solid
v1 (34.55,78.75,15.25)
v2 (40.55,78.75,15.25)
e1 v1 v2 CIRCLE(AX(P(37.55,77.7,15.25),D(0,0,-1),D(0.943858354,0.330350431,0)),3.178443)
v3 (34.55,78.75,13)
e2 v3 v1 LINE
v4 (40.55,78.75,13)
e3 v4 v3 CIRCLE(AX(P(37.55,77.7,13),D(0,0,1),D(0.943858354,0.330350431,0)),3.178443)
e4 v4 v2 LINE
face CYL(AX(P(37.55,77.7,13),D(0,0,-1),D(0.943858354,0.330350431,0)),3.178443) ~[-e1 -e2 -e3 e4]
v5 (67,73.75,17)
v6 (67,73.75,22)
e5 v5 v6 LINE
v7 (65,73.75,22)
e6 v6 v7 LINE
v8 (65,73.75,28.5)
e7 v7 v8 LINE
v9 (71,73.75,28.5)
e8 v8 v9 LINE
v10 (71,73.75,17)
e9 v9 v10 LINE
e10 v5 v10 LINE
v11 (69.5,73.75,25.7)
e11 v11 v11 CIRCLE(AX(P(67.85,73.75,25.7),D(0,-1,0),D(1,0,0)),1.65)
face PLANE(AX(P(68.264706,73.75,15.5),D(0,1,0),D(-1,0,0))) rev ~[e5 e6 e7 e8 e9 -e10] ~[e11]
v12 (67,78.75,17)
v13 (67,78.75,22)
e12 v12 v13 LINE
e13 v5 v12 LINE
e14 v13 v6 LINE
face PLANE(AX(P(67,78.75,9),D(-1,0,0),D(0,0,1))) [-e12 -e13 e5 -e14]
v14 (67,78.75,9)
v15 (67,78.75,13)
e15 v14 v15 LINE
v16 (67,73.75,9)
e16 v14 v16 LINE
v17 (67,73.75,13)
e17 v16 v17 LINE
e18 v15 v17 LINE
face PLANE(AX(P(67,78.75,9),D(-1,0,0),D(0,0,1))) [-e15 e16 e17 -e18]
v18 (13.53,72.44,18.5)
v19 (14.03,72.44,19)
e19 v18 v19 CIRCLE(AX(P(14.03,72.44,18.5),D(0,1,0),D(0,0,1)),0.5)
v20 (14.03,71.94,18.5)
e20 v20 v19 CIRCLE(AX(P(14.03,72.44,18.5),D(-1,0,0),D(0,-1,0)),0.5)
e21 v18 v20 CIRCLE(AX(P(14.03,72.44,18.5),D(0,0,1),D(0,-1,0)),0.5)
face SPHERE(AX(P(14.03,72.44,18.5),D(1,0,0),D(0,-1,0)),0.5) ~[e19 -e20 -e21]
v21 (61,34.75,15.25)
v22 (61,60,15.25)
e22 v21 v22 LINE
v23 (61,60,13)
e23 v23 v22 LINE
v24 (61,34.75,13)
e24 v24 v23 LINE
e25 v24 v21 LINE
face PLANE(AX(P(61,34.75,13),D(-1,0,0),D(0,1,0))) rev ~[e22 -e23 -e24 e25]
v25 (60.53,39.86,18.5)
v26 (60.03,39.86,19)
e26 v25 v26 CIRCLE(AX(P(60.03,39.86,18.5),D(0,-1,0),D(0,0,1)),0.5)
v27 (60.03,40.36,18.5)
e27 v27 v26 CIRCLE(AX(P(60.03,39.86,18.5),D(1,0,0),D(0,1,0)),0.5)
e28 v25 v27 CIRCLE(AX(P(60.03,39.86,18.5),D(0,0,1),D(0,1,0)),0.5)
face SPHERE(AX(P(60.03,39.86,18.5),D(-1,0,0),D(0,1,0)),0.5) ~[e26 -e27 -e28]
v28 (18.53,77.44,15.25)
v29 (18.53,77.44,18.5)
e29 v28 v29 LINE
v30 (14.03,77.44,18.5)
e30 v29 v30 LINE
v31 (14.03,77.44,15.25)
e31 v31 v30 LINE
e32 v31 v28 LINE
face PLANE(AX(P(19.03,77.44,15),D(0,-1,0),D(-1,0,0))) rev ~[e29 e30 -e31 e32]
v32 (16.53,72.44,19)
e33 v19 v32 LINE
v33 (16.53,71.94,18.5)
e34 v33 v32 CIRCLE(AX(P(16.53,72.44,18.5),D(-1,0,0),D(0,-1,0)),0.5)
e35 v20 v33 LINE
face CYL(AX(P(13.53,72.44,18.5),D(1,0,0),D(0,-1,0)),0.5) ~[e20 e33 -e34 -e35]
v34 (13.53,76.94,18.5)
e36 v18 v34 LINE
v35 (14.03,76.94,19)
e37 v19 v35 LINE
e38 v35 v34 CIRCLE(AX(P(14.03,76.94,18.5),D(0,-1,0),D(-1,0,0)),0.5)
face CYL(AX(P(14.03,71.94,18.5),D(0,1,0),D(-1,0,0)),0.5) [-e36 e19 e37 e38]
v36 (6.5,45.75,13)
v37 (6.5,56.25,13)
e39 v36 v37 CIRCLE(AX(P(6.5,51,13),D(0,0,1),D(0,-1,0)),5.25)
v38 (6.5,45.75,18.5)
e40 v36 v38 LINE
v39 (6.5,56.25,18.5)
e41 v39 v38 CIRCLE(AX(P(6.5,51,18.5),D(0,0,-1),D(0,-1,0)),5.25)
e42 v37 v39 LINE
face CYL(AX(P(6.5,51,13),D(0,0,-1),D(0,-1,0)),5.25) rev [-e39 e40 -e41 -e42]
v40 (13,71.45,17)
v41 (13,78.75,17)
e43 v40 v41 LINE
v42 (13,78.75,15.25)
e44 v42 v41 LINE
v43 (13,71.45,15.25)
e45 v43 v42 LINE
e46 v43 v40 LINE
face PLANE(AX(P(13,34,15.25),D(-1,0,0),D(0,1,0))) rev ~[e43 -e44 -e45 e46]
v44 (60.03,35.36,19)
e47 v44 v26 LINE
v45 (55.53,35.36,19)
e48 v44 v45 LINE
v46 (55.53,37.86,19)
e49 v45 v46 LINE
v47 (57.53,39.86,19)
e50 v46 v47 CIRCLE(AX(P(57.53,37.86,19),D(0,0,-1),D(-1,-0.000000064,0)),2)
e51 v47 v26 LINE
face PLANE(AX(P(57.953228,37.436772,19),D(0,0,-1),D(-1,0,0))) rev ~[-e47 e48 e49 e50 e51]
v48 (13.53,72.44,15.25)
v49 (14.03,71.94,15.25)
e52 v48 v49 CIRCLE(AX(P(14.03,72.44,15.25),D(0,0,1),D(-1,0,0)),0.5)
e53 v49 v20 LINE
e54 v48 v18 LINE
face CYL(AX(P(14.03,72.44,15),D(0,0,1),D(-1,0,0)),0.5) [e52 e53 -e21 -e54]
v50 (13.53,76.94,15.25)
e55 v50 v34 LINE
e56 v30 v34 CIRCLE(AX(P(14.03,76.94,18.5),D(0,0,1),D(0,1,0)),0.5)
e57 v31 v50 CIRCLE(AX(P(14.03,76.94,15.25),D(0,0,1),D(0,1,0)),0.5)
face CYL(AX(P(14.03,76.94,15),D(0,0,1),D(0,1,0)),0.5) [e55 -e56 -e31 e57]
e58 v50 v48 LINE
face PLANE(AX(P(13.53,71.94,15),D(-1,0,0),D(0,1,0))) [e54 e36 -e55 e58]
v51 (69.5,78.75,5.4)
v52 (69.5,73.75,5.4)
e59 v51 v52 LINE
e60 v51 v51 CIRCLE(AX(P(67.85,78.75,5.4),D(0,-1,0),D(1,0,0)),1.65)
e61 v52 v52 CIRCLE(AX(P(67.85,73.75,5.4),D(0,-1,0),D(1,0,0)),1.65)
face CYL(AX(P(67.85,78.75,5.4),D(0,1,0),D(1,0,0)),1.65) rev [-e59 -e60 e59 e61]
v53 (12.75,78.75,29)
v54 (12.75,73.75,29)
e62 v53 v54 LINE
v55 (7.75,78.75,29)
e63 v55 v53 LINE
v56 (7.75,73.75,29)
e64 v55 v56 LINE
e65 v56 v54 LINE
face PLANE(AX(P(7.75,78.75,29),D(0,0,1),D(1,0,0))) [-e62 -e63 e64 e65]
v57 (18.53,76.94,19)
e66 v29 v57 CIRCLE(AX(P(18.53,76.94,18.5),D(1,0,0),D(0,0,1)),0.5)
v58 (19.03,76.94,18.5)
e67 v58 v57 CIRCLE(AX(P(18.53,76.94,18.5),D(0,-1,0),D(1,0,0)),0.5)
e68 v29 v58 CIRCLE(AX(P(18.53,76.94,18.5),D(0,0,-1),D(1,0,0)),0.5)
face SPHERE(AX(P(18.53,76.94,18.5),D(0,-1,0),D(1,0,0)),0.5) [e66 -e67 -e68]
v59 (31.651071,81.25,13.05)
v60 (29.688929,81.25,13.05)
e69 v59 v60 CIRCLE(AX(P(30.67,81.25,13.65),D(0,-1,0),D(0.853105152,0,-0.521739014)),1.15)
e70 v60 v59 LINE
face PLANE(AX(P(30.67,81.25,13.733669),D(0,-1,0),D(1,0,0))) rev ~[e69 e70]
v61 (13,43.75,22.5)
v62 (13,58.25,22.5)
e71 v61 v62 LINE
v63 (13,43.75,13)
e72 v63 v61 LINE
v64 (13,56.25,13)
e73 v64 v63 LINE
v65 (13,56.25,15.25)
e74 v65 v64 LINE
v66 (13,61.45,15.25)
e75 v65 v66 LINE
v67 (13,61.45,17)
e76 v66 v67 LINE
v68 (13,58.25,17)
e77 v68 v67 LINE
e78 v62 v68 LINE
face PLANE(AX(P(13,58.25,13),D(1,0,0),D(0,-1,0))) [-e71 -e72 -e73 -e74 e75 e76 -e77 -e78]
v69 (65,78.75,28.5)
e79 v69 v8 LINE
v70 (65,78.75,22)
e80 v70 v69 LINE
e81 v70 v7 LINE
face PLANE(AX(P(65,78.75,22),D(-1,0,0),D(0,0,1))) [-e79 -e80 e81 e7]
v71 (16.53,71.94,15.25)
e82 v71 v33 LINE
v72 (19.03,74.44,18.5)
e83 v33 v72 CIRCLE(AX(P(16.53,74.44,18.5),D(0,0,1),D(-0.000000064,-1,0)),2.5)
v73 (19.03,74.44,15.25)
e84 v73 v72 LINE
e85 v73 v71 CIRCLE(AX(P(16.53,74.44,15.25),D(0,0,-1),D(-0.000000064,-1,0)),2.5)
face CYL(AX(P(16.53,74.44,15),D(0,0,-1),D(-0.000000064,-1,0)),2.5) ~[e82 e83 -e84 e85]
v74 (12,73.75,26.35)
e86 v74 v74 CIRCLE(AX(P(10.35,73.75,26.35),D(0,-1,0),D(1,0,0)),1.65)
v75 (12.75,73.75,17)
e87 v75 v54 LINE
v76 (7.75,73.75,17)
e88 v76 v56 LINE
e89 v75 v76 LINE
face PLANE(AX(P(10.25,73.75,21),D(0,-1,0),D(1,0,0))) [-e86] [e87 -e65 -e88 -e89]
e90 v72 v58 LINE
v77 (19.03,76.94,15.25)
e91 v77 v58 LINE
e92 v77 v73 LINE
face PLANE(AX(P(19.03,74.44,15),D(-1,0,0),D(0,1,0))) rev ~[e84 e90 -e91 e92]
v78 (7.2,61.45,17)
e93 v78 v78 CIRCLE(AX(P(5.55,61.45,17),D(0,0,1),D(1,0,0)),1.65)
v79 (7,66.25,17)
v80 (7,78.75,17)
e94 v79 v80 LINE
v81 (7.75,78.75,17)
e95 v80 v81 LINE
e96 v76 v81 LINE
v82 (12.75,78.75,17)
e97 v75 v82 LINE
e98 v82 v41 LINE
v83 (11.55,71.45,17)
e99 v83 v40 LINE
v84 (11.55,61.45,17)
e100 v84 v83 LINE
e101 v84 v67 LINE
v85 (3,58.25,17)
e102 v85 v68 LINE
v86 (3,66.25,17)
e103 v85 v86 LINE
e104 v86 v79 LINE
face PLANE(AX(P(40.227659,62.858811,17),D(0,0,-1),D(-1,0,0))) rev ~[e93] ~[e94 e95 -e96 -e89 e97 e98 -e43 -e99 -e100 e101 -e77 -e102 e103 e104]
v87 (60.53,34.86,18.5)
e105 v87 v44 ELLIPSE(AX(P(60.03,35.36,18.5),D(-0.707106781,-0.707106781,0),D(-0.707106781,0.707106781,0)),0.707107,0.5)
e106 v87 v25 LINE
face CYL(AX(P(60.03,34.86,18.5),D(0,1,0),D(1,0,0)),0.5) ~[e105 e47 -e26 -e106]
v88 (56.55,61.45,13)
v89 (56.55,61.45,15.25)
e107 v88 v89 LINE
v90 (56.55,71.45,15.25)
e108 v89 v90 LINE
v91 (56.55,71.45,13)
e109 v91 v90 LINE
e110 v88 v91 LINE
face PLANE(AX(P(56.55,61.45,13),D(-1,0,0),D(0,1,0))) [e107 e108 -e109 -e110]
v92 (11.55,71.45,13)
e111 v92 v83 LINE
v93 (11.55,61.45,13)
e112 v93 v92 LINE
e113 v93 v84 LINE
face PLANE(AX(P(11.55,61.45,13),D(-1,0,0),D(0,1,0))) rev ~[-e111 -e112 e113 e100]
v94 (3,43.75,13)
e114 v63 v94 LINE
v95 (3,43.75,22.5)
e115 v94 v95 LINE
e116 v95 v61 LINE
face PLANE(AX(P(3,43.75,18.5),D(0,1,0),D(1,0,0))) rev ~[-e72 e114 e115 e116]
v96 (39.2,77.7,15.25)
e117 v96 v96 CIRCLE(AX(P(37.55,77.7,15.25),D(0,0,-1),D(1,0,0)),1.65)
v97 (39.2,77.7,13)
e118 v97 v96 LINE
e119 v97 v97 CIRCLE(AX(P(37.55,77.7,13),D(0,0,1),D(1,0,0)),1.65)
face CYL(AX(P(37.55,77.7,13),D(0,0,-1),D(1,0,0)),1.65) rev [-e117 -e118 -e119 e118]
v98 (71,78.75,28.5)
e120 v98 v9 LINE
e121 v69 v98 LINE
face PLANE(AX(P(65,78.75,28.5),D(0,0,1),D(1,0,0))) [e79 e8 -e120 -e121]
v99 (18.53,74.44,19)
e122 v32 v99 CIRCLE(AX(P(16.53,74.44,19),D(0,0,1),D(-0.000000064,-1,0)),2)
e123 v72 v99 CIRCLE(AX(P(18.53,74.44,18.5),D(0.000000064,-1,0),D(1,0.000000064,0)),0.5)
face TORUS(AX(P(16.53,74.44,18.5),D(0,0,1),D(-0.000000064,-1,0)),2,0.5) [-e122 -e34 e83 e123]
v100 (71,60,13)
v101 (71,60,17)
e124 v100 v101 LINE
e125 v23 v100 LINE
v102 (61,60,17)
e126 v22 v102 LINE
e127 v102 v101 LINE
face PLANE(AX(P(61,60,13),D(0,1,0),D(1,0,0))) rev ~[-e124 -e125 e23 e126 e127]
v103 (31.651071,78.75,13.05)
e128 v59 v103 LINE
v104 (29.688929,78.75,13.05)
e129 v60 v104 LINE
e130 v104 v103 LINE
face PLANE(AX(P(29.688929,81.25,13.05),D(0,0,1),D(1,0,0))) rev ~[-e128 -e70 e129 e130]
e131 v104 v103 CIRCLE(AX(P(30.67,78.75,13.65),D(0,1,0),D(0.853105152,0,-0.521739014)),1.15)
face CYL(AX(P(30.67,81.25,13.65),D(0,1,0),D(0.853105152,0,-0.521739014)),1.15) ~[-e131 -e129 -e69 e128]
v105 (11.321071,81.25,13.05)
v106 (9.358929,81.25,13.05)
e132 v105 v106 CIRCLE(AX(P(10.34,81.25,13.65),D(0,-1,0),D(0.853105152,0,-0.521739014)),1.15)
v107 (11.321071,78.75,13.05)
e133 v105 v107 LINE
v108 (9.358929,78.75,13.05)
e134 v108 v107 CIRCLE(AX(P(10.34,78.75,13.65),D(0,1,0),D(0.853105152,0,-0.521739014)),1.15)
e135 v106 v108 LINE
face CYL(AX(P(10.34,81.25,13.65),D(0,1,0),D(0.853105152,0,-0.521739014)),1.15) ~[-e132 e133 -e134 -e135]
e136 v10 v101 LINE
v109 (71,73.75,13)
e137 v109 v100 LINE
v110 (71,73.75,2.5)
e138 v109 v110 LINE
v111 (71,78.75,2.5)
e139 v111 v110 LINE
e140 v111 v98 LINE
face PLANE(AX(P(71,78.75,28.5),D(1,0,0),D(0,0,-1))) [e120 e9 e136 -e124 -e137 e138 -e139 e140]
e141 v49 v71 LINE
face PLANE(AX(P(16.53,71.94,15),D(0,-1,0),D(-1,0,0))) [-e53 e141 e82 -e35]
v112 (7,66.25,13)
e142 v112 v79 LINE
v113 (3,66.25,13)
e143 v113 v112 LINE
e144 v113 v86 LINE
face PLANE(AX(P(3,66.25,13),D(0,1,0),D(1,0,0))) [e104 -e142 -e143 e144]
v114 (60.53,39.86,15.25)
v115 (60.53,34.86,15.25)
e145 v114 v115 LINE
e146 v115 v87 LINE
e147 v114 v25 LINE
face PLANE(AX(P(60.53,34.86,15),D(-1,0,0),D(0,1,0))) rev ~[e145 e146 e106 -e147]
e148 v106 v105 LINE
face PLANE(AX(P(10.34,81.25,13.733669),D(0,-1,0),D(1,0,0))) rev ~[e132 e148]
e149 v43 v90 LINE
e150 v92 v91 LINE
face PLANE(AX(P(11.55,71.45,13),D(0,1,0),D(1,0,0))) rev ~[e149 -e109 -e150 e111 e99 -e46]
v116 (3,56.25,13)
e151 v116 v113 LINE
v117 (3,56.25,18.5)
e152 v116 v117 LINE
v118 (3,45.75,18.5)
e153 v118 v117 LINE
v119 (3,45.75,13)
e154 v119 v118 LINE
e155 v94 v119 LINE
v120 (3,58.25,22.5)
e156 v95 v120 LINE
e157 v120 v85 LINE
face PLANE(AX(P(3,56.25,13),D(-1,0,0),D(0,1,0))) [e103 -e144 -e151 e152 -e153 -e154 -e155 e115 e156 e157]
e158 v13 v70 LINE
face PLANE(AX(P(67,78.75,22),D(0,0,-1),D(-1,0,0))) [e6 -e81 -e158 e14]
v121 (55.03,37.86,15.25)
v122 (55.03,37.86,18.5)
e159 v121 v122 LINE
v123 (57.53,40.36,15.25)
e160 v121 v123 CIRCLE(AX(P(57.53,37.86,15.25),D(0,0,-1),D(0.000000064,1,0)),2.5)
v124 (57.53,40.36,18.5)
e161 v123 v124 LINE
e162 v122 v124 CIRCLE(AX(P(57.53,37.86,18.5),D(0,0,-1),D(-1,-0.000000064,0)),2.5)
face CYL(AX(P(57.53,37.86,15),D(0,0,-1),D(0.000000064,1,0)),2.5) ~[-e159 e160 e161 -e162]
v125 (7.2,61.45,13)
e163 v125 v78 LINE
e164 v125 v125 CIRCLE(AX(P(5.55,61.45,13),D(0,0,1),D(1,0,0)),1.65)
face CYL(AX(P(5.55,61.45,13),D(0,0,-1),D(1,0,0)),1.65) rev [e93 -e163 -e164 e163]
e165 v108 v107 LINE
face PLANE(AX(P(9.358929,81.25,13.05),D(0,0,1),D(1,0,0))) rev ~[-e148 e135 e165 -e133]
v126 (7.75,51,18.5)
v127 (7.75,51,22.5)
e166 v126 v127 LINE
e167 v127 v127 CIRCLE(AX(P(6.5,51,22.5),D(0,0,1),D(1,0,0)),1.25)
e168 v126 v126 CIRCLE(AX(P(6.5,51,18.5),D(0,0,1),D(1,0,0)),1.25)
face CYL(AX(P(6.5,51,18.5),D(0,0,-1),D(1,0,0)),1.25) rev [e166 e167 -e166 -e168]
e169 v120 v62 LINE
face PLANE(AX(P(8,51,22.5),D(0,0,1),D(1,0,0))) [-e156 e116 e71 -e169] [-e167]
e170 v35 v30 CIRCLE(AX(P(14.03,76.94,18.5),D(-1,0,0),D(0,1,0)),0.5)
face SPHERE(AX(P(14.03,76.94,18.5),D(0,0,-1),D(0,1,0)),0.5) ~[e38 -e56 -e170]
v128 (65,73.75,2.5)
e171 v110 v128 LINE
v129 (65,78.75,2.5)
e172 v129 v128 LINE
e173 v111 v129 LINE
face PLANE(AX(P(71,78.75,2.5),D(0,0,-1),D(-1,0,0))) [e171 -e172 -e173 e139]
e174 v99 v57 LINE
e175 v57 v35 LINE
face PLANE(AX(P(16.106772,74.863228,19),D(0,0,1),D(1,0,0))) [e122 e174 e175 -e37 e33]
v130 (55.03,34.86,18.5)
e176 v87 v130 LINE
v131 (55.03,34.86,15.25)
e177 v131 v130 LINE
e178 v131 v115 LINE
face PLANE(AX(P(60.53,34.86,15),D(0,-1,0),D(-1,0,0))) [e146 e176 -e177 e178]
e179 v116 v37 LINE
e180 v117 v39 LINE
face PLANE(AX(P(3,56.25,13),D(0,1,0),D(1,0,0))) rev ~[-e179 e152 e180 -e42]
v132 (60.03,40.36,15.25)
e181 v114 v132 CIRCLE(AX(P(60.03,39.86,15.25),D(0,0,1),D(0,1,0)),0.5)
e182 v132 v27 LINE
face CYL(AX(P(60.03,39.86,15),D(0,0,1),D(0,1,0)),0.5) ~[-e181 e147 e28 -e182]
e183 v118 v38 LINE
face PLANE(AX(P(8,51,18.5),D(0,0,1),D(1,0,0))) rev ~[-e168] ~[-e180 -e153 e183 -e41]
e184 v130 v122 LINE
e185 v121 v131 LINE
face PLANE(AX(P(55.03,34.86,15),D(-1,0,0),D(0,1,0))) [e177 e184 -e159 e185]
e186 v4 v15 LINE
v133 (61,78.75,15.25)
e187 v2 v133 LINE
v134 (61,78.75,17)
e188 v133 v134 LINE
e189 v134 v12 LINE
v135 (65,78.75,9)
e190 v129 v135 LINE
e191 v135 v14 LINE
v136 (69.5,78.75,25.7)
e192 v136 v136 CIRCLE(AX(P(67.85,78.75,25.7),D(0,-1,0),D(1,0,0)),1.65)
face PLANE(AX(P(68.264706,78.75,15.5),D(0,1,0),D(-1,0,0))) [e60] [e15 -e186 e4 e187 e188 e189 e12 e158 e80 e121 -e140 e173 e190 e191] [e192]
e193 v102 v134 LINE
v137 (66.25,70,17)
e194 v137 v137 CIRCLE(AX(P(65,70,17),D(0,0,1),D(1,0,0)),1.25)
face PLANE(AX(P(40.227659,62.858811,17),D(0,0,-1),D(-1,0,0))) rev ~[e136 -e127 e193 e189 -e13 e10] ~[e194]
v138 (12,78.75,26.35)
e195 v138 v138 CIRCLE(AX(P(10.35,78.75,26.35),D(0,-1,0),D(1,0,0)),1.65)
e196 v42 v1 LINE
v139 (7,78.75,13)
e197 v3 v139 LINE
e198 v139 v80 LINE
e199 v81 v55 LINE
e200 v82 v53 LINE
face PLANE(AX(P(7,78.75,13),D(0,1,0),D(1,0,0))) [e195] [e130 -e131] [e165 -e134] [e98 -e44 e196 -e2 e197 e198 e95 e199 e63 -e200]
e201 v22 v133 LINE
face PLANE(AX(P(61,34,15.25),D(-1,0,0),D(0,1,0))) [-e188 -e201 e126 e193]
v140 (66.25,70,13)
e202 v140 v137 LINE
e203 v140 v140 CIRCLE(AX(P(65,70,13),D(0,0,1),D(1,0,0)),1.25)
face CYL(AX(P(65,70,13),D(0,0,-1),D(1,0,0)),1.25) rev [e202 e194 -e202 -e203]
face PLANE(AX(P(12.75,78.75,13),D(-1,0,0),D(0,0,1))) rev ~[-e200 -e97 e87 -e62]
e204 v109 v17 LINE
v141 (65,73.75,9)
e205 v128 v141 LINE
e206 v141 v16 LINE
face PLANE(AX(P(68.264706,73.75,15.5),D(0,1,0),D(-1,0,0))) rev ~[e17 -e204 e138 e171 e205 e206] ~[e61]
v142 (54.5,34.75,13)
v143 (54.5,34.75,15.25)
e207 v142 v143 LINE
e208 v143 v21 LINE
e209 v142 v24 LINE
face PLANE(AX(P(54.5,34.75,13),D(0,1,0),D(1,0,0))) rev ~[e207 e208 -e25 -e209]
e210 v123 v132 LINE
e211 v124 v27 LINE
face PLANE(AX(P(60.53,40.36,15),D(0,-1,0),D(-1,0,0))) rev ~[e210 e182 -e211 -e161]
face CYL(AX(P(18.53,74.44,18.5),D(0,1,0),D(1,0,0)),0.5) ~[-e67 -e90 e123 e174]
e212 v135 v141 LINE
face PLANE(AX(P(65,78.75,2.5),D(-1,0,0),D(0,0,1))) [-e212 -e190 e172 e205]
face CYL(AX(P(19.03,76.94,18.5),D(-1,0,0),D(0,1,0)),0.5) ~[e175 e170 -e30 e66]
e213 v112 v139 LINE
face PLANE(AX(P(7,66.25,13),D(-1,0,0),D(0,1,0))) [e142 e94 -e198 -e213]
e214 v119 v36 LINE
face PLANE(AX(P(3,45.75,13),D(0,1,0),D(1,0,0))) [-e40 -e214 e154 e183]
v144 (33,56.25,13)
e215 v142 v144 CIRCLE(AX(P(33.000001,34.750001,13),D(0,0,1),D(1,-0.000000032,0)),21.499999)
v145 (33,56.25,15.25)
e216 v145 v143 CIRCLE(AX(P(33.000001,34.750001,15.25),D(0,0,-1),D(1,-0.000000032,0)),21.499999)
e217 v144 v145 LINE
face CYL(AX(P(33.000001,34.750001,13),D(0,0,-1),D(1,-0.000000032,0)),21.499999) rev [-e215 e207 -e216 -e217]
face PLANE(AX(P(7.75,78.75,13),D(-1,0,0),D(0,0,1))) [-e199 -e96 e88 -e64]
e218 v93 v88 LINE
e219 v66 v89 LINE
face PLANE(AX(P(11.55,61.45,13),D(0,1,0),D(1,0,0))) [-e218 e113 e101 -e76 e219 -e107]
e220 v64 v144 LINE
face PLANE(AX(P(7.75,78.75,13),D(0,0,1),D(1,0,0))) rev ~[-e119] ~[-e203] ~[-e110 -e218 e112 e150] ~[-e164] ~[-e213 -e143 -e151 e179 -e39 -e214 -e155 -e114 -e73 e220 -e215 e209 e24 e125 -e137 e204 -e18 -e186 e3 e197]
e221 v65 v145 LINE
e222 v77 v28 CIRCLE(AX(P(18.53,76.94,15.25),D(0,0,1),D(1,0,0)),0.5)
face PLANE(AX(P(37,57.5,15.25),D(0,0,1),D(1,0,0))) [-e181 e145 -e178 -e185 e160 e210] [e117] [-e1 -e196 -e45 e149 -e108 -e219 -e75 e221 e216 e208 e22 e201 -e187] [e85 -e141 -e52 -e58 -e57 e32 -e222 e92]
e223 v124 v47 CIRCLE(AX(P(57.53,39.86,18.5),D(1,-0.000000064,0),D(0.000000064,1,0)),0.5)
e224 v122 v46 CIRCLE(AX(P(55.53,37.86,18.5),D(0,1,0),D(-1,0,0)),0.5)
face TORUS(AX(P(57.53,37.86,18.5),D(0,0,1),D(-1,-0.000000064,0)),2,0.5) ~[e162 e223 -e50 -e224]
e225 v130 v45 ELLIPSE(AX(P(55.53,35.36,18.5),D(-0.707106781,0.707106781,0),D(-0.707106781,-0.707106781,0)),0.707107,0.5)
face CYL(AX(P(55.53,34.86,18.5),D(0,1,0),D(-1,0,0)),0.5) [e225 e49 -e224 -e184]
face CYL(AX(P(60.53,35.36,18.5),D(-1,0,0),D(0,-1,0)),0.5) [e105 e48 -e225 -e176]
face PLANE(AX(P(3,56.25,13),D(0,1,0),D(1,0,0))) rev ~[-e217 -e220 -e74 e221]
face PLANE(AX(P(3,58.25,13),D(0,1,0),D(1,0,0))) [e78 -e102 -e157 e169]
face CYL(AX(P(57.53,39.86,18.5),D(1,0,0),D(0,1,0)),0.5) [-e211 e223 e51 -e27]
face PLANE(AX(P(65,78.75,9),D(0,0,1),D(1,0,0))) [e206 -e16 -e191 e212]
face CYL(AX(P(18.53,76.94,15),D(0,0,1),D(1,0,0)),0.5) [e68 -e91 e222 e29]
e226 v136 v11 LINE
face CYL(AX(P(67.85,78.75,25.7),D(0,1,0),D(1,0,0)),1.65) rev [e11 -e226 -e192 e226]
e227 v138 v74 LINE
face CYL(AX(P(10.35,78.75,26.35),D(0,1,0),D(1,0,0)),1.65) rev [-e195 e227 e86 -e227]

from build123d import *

# Parameters (mm, degrees)
SKETCH021_R      = 1.65
EXTRUDE021_DEPTH = 5
EXTRUDE001_DEPTH = 4
FILLET003_R      = 0.5
BOX005_W         = 48
BOX005_H         = 47
BOX005_DEPTH     = 10
EXTRUDE037_DEPTH = 6
SKETCH038_W      = 10
SKETCH038_H      = 14.5
SKETCH038_R      = 1.25
EXTRUDE038_DEPTH = 4
SKETCH039_W      = 5
SKETCH039_H      = 16
SKETCH039_R      = 1.65
EXTRUDE039_DEPTH = 5
EXTRUDE040_DEPTH = 3
SKETCH020_R      = 1.65
SKETCH020_R_2    = 1.25
SKETCH020_W      = 45
SKETCH020_H      = 10
EXTRUDE036_DEPTH = 4


with BuildPart() as gpshold:
    # Sketch021 → Extrude021 (new body)
    with BuildSketch(Plane.XZ):
        Polygon((65, 28.5), (71, 28.5), (71, 2.5), (65, 2.5), (65, 9), (67, 9), (67, 22), (65, 22), align=None)
        with Locations((67.85, 25.7)):
            Circle(SKETCH021_R, mode=Mode.SUBTRACT)
        with Locations((67.85, 5.4)):
            Circle(SKETCH021_R, mode=Mode.SUBTRACT)
    extrude(amount=EXTRUDE021_DEPTH)


with BuildPart() as gpshold_1:
    # Extrude021 placement: moved
    add(gpshold.part.moved(Location((0, 78.75, 0))))


with BuildPart() as ipsholdbottomindone:
    # Sketch001 → Extrude001 (new body)
    with BuildSketch(Plane.XY):
        with BuildLine():
            Line((19.03, 74.44), (19.03, 77.44))
            Line((19.03, 77.44), (13.53, 77.44))
            Line((13.53, 71.94), (13.53, 77.44))
            Line((16.53, 71.94), (13.53, 71.94))
            ThreePointArc((16.53, 71.94), (18.297767, 72.672233), (19.03, 74.44))
        make_face()
        with BuildLine():
            Line((60.53, 34.86), (55.03, 34.86))
            Line((55.03, 34.86), (55.03, 37.86))
            ThreePointArc((57.53, 40.36), (55.762233, 39.627767), (55.03, 37.86))
            Line((60.53, 40.36), (57.53, 40.36))
            Line((60.53, 34.86), (60.53, 40.36))
        make_face()
    extrude(amount=EXTRUDE001_DEPTH)


with BuildPart() as ipsholdbottomindone_1:
    # Extrude001 placement: moved
    add(ipsholdbottomindone.part.moved(Location((0, 0, 2))))

    # Fillet003
    fillet003_edges = [ipsholdbottomindone_1.edges().sort_by_distance(p)[0] for p in [
        (57.78, 34.86, 6),
        (55.03, 36.36, 6),
        (55.762233, 39.627767, 6),
        (60.53, 40.36, 4),
        (59.03, 40.36, 6),
        (60.53, 37.61, 6),
        (18.297767, 72.672233, 6),
        (19.03, 77.44, 4),
        (19.03, 75.94, 6),
        (13.53, 77.44, 4),
        (16.28, 77.44, 6),
        (13.53, 71.94, 4),
        (13.53, 74.69, 6),
        (15.03, 71.94, 6),
    ]]
    fillet(fillet003_edges, radius=FILLET003_R)


with BuildPart() as ipsholdbottomindone_2:
    # Fillet003 placement: moved
    add(ipsholdbottomindone_1.part.moved(Location((0, 0, 13))))


with BuildPart() as sensorholdipscut:
    # Box005 → Box005 (new body)
    with BuildSketch(Plane(origin=(13, 34, 15.25), x_dir=(1, 0, 0), z_dir=(0, 0, 1))):
        with Locations((24, 23.5)):
            Rectangle(BOX005_W, BOX005_H)
    extrude(amount=BOX005_DEPTH)


with BuildPart() as sensorholdaddon:
    # Sketch037 → Extrude037 (new body)
    with BuildSketch(Plane.XY.offset(17)):
        with BuildLine():
            Line((3, 58.25), (13, 58.25))
            Line((13, 58.25), (13, 43.75))
            Line((13, 43.75), (3, 43.75))
            Line((3, 43.75), (3, 45.75))
            Line((3, 45.75), (6.5, 45.75))
            ThreePointArc((6.5, 45.75), (11.75, 51), (6.5, 56.25))
            Line((3, 56.25), (6.5, 56.25))
            Line((3, 58.25), (3, 56.25))
        make_face()
    extrude(amount=EXTRUDE037_DEPTH)


with BuildPart() as sensorholdaddon_1:
    # Extrude037 placement: moved
    add(sensorholdaddon.part.moved(Location((0, 0, -4))))


with BuildPart() as sensorholdaddon001:
    # Sketch038 → Extrude038 (new body)
    with BuildSketch(Plane.XY.offset(17)):
        with Locations((8, 51)):
            Rectangle(SKETCH038_W, SKETCH038_H)
        with Locations((6.5, 51)):
            Circle(SKETCH038_R, mode=Mode.SUBTRACT)
    extrude(amount=EXTRUDE038_DEPTH)


with BuildPart() as sensorholdaddon001_1:
    # Extrude038 placement: moved
    add(sensorholdaddon001.part.moved(Location((0, 0, 1.5))))


with BuildPart() as bmehold:
    # Sketch039 → Extrude039 (new body)
    with BuildSketch(Plane.XZ.offset(-78.75)):
        with Locations((10.25, 21)):
            Rectangle(SKETCH039_W, SKETCH039_H)
        with Locations((10.35, 26.35)):
            Circle(SKETCH039_R, mode=Mode.SUBTRACT)
    extrude(amount=EXTRUDE039_DEPTH)


with BuildPart() as bmehold001:
    # Sketch040 → Extrude040 (new body)
    with BuildSketch(Plane.XZ.offset(-78.75)):
        with BuildLine():
            ThreePointArc((11.321071, 13.05), (10.34, 14.8), (9.358929, 13.05))
            Line((9.358929, 13.05), (11.321071, 13.05))
        make_face()
        with BuildLine():
            ThreePointArc((31.651071, 13.05), (30.67, 14.8), (29.688929, 13.05))
            Line((29.688929, 13.05), (31.651071, 13.05))
        make_face()
    extrude(amount=EXTRUDE040_DEPTH)


with BuildPart() as bmehold001_1:
    # Extrude040 placement: moved
    add(bmehold001.part.moved(Location((0, 2.5, 0))))


with BuildPart() as sensorhold005:
    # Sketch020 → Extrude036 (new body)
    with BuildSketch(Plane.XY):
        with BuildLine():
            Line((71, 78.75), (71, 60))
            Line((61, 60), (71, 60))
            Line((61, 34.75), (61, 60))
            Line((61, 34.75), (61, 60))
            Line((61, 34.75), (61, 60))
            Line((54.5, 34.75), (61, 34.75))
            ThreePointArc((54.5, 34.75), (48.202796, 49.952796), (33, 56.25))
            Line((3, 56.25), (33, 56.25))
            Line((3, 56.25), (3, 66.25))
            Line((3, 66.25), (7, 66.25))
            Line((7, 66.25), (7, 78.75))
            Line((7, 78.75), (34.55, 78.75))
            ThreePointArc((40.55, 78.75), (37.55, 80.878443), (34.55, 78.75))
            Line((40.55, 78.75), (71, 78.75))
        make_face()
        with Locations((5.55, 61.45)):
            Circle(SKETCH020_R, mode=Mode.SUBTRACT)
        with Locations((37.55, 77.7)):
            Circle(SKETCH020_R, mode=Mode.SUBTRACT)
        with Locations((65, 70)):
            Circle(SKETCH020_R_2, mode=Mode.SUBTRACT)
        with Locations((34.05, 66.45)):
            Rectangle(SKETCH020_W, SKETCH020_H, mode=Mode.SUBTRACT)
    extrude(amount=EXTRUDE036_DEPTH)


with BuildPart() as sensorhold005_1:
    # Extrude036 placement: moved
    add(sensorhold005.part.moved(Location((0, 0, 13))))

    # Fusion034: union sensorHoldAddon, sensorHoldAddon001, bmeHold, bmeHold001
    add(sensorholdaddon_1.part)
    add(sensorholdaddon001_1.part)
    add(bmehold.part)
    add(bmehold001_1.part)

    # Cut016: cut sensorHoldIPSCut
    add(sensorholdipscut.part, mode=Mode.SUBTRACT)

    # Fusion035: union ipsHoldBottomInDone
    add(ipsholdbottomindone_2.part)

    # Fusion036: union gpsHold
    add(gpshold_1.part)


solid = sensorhold005_1.part
